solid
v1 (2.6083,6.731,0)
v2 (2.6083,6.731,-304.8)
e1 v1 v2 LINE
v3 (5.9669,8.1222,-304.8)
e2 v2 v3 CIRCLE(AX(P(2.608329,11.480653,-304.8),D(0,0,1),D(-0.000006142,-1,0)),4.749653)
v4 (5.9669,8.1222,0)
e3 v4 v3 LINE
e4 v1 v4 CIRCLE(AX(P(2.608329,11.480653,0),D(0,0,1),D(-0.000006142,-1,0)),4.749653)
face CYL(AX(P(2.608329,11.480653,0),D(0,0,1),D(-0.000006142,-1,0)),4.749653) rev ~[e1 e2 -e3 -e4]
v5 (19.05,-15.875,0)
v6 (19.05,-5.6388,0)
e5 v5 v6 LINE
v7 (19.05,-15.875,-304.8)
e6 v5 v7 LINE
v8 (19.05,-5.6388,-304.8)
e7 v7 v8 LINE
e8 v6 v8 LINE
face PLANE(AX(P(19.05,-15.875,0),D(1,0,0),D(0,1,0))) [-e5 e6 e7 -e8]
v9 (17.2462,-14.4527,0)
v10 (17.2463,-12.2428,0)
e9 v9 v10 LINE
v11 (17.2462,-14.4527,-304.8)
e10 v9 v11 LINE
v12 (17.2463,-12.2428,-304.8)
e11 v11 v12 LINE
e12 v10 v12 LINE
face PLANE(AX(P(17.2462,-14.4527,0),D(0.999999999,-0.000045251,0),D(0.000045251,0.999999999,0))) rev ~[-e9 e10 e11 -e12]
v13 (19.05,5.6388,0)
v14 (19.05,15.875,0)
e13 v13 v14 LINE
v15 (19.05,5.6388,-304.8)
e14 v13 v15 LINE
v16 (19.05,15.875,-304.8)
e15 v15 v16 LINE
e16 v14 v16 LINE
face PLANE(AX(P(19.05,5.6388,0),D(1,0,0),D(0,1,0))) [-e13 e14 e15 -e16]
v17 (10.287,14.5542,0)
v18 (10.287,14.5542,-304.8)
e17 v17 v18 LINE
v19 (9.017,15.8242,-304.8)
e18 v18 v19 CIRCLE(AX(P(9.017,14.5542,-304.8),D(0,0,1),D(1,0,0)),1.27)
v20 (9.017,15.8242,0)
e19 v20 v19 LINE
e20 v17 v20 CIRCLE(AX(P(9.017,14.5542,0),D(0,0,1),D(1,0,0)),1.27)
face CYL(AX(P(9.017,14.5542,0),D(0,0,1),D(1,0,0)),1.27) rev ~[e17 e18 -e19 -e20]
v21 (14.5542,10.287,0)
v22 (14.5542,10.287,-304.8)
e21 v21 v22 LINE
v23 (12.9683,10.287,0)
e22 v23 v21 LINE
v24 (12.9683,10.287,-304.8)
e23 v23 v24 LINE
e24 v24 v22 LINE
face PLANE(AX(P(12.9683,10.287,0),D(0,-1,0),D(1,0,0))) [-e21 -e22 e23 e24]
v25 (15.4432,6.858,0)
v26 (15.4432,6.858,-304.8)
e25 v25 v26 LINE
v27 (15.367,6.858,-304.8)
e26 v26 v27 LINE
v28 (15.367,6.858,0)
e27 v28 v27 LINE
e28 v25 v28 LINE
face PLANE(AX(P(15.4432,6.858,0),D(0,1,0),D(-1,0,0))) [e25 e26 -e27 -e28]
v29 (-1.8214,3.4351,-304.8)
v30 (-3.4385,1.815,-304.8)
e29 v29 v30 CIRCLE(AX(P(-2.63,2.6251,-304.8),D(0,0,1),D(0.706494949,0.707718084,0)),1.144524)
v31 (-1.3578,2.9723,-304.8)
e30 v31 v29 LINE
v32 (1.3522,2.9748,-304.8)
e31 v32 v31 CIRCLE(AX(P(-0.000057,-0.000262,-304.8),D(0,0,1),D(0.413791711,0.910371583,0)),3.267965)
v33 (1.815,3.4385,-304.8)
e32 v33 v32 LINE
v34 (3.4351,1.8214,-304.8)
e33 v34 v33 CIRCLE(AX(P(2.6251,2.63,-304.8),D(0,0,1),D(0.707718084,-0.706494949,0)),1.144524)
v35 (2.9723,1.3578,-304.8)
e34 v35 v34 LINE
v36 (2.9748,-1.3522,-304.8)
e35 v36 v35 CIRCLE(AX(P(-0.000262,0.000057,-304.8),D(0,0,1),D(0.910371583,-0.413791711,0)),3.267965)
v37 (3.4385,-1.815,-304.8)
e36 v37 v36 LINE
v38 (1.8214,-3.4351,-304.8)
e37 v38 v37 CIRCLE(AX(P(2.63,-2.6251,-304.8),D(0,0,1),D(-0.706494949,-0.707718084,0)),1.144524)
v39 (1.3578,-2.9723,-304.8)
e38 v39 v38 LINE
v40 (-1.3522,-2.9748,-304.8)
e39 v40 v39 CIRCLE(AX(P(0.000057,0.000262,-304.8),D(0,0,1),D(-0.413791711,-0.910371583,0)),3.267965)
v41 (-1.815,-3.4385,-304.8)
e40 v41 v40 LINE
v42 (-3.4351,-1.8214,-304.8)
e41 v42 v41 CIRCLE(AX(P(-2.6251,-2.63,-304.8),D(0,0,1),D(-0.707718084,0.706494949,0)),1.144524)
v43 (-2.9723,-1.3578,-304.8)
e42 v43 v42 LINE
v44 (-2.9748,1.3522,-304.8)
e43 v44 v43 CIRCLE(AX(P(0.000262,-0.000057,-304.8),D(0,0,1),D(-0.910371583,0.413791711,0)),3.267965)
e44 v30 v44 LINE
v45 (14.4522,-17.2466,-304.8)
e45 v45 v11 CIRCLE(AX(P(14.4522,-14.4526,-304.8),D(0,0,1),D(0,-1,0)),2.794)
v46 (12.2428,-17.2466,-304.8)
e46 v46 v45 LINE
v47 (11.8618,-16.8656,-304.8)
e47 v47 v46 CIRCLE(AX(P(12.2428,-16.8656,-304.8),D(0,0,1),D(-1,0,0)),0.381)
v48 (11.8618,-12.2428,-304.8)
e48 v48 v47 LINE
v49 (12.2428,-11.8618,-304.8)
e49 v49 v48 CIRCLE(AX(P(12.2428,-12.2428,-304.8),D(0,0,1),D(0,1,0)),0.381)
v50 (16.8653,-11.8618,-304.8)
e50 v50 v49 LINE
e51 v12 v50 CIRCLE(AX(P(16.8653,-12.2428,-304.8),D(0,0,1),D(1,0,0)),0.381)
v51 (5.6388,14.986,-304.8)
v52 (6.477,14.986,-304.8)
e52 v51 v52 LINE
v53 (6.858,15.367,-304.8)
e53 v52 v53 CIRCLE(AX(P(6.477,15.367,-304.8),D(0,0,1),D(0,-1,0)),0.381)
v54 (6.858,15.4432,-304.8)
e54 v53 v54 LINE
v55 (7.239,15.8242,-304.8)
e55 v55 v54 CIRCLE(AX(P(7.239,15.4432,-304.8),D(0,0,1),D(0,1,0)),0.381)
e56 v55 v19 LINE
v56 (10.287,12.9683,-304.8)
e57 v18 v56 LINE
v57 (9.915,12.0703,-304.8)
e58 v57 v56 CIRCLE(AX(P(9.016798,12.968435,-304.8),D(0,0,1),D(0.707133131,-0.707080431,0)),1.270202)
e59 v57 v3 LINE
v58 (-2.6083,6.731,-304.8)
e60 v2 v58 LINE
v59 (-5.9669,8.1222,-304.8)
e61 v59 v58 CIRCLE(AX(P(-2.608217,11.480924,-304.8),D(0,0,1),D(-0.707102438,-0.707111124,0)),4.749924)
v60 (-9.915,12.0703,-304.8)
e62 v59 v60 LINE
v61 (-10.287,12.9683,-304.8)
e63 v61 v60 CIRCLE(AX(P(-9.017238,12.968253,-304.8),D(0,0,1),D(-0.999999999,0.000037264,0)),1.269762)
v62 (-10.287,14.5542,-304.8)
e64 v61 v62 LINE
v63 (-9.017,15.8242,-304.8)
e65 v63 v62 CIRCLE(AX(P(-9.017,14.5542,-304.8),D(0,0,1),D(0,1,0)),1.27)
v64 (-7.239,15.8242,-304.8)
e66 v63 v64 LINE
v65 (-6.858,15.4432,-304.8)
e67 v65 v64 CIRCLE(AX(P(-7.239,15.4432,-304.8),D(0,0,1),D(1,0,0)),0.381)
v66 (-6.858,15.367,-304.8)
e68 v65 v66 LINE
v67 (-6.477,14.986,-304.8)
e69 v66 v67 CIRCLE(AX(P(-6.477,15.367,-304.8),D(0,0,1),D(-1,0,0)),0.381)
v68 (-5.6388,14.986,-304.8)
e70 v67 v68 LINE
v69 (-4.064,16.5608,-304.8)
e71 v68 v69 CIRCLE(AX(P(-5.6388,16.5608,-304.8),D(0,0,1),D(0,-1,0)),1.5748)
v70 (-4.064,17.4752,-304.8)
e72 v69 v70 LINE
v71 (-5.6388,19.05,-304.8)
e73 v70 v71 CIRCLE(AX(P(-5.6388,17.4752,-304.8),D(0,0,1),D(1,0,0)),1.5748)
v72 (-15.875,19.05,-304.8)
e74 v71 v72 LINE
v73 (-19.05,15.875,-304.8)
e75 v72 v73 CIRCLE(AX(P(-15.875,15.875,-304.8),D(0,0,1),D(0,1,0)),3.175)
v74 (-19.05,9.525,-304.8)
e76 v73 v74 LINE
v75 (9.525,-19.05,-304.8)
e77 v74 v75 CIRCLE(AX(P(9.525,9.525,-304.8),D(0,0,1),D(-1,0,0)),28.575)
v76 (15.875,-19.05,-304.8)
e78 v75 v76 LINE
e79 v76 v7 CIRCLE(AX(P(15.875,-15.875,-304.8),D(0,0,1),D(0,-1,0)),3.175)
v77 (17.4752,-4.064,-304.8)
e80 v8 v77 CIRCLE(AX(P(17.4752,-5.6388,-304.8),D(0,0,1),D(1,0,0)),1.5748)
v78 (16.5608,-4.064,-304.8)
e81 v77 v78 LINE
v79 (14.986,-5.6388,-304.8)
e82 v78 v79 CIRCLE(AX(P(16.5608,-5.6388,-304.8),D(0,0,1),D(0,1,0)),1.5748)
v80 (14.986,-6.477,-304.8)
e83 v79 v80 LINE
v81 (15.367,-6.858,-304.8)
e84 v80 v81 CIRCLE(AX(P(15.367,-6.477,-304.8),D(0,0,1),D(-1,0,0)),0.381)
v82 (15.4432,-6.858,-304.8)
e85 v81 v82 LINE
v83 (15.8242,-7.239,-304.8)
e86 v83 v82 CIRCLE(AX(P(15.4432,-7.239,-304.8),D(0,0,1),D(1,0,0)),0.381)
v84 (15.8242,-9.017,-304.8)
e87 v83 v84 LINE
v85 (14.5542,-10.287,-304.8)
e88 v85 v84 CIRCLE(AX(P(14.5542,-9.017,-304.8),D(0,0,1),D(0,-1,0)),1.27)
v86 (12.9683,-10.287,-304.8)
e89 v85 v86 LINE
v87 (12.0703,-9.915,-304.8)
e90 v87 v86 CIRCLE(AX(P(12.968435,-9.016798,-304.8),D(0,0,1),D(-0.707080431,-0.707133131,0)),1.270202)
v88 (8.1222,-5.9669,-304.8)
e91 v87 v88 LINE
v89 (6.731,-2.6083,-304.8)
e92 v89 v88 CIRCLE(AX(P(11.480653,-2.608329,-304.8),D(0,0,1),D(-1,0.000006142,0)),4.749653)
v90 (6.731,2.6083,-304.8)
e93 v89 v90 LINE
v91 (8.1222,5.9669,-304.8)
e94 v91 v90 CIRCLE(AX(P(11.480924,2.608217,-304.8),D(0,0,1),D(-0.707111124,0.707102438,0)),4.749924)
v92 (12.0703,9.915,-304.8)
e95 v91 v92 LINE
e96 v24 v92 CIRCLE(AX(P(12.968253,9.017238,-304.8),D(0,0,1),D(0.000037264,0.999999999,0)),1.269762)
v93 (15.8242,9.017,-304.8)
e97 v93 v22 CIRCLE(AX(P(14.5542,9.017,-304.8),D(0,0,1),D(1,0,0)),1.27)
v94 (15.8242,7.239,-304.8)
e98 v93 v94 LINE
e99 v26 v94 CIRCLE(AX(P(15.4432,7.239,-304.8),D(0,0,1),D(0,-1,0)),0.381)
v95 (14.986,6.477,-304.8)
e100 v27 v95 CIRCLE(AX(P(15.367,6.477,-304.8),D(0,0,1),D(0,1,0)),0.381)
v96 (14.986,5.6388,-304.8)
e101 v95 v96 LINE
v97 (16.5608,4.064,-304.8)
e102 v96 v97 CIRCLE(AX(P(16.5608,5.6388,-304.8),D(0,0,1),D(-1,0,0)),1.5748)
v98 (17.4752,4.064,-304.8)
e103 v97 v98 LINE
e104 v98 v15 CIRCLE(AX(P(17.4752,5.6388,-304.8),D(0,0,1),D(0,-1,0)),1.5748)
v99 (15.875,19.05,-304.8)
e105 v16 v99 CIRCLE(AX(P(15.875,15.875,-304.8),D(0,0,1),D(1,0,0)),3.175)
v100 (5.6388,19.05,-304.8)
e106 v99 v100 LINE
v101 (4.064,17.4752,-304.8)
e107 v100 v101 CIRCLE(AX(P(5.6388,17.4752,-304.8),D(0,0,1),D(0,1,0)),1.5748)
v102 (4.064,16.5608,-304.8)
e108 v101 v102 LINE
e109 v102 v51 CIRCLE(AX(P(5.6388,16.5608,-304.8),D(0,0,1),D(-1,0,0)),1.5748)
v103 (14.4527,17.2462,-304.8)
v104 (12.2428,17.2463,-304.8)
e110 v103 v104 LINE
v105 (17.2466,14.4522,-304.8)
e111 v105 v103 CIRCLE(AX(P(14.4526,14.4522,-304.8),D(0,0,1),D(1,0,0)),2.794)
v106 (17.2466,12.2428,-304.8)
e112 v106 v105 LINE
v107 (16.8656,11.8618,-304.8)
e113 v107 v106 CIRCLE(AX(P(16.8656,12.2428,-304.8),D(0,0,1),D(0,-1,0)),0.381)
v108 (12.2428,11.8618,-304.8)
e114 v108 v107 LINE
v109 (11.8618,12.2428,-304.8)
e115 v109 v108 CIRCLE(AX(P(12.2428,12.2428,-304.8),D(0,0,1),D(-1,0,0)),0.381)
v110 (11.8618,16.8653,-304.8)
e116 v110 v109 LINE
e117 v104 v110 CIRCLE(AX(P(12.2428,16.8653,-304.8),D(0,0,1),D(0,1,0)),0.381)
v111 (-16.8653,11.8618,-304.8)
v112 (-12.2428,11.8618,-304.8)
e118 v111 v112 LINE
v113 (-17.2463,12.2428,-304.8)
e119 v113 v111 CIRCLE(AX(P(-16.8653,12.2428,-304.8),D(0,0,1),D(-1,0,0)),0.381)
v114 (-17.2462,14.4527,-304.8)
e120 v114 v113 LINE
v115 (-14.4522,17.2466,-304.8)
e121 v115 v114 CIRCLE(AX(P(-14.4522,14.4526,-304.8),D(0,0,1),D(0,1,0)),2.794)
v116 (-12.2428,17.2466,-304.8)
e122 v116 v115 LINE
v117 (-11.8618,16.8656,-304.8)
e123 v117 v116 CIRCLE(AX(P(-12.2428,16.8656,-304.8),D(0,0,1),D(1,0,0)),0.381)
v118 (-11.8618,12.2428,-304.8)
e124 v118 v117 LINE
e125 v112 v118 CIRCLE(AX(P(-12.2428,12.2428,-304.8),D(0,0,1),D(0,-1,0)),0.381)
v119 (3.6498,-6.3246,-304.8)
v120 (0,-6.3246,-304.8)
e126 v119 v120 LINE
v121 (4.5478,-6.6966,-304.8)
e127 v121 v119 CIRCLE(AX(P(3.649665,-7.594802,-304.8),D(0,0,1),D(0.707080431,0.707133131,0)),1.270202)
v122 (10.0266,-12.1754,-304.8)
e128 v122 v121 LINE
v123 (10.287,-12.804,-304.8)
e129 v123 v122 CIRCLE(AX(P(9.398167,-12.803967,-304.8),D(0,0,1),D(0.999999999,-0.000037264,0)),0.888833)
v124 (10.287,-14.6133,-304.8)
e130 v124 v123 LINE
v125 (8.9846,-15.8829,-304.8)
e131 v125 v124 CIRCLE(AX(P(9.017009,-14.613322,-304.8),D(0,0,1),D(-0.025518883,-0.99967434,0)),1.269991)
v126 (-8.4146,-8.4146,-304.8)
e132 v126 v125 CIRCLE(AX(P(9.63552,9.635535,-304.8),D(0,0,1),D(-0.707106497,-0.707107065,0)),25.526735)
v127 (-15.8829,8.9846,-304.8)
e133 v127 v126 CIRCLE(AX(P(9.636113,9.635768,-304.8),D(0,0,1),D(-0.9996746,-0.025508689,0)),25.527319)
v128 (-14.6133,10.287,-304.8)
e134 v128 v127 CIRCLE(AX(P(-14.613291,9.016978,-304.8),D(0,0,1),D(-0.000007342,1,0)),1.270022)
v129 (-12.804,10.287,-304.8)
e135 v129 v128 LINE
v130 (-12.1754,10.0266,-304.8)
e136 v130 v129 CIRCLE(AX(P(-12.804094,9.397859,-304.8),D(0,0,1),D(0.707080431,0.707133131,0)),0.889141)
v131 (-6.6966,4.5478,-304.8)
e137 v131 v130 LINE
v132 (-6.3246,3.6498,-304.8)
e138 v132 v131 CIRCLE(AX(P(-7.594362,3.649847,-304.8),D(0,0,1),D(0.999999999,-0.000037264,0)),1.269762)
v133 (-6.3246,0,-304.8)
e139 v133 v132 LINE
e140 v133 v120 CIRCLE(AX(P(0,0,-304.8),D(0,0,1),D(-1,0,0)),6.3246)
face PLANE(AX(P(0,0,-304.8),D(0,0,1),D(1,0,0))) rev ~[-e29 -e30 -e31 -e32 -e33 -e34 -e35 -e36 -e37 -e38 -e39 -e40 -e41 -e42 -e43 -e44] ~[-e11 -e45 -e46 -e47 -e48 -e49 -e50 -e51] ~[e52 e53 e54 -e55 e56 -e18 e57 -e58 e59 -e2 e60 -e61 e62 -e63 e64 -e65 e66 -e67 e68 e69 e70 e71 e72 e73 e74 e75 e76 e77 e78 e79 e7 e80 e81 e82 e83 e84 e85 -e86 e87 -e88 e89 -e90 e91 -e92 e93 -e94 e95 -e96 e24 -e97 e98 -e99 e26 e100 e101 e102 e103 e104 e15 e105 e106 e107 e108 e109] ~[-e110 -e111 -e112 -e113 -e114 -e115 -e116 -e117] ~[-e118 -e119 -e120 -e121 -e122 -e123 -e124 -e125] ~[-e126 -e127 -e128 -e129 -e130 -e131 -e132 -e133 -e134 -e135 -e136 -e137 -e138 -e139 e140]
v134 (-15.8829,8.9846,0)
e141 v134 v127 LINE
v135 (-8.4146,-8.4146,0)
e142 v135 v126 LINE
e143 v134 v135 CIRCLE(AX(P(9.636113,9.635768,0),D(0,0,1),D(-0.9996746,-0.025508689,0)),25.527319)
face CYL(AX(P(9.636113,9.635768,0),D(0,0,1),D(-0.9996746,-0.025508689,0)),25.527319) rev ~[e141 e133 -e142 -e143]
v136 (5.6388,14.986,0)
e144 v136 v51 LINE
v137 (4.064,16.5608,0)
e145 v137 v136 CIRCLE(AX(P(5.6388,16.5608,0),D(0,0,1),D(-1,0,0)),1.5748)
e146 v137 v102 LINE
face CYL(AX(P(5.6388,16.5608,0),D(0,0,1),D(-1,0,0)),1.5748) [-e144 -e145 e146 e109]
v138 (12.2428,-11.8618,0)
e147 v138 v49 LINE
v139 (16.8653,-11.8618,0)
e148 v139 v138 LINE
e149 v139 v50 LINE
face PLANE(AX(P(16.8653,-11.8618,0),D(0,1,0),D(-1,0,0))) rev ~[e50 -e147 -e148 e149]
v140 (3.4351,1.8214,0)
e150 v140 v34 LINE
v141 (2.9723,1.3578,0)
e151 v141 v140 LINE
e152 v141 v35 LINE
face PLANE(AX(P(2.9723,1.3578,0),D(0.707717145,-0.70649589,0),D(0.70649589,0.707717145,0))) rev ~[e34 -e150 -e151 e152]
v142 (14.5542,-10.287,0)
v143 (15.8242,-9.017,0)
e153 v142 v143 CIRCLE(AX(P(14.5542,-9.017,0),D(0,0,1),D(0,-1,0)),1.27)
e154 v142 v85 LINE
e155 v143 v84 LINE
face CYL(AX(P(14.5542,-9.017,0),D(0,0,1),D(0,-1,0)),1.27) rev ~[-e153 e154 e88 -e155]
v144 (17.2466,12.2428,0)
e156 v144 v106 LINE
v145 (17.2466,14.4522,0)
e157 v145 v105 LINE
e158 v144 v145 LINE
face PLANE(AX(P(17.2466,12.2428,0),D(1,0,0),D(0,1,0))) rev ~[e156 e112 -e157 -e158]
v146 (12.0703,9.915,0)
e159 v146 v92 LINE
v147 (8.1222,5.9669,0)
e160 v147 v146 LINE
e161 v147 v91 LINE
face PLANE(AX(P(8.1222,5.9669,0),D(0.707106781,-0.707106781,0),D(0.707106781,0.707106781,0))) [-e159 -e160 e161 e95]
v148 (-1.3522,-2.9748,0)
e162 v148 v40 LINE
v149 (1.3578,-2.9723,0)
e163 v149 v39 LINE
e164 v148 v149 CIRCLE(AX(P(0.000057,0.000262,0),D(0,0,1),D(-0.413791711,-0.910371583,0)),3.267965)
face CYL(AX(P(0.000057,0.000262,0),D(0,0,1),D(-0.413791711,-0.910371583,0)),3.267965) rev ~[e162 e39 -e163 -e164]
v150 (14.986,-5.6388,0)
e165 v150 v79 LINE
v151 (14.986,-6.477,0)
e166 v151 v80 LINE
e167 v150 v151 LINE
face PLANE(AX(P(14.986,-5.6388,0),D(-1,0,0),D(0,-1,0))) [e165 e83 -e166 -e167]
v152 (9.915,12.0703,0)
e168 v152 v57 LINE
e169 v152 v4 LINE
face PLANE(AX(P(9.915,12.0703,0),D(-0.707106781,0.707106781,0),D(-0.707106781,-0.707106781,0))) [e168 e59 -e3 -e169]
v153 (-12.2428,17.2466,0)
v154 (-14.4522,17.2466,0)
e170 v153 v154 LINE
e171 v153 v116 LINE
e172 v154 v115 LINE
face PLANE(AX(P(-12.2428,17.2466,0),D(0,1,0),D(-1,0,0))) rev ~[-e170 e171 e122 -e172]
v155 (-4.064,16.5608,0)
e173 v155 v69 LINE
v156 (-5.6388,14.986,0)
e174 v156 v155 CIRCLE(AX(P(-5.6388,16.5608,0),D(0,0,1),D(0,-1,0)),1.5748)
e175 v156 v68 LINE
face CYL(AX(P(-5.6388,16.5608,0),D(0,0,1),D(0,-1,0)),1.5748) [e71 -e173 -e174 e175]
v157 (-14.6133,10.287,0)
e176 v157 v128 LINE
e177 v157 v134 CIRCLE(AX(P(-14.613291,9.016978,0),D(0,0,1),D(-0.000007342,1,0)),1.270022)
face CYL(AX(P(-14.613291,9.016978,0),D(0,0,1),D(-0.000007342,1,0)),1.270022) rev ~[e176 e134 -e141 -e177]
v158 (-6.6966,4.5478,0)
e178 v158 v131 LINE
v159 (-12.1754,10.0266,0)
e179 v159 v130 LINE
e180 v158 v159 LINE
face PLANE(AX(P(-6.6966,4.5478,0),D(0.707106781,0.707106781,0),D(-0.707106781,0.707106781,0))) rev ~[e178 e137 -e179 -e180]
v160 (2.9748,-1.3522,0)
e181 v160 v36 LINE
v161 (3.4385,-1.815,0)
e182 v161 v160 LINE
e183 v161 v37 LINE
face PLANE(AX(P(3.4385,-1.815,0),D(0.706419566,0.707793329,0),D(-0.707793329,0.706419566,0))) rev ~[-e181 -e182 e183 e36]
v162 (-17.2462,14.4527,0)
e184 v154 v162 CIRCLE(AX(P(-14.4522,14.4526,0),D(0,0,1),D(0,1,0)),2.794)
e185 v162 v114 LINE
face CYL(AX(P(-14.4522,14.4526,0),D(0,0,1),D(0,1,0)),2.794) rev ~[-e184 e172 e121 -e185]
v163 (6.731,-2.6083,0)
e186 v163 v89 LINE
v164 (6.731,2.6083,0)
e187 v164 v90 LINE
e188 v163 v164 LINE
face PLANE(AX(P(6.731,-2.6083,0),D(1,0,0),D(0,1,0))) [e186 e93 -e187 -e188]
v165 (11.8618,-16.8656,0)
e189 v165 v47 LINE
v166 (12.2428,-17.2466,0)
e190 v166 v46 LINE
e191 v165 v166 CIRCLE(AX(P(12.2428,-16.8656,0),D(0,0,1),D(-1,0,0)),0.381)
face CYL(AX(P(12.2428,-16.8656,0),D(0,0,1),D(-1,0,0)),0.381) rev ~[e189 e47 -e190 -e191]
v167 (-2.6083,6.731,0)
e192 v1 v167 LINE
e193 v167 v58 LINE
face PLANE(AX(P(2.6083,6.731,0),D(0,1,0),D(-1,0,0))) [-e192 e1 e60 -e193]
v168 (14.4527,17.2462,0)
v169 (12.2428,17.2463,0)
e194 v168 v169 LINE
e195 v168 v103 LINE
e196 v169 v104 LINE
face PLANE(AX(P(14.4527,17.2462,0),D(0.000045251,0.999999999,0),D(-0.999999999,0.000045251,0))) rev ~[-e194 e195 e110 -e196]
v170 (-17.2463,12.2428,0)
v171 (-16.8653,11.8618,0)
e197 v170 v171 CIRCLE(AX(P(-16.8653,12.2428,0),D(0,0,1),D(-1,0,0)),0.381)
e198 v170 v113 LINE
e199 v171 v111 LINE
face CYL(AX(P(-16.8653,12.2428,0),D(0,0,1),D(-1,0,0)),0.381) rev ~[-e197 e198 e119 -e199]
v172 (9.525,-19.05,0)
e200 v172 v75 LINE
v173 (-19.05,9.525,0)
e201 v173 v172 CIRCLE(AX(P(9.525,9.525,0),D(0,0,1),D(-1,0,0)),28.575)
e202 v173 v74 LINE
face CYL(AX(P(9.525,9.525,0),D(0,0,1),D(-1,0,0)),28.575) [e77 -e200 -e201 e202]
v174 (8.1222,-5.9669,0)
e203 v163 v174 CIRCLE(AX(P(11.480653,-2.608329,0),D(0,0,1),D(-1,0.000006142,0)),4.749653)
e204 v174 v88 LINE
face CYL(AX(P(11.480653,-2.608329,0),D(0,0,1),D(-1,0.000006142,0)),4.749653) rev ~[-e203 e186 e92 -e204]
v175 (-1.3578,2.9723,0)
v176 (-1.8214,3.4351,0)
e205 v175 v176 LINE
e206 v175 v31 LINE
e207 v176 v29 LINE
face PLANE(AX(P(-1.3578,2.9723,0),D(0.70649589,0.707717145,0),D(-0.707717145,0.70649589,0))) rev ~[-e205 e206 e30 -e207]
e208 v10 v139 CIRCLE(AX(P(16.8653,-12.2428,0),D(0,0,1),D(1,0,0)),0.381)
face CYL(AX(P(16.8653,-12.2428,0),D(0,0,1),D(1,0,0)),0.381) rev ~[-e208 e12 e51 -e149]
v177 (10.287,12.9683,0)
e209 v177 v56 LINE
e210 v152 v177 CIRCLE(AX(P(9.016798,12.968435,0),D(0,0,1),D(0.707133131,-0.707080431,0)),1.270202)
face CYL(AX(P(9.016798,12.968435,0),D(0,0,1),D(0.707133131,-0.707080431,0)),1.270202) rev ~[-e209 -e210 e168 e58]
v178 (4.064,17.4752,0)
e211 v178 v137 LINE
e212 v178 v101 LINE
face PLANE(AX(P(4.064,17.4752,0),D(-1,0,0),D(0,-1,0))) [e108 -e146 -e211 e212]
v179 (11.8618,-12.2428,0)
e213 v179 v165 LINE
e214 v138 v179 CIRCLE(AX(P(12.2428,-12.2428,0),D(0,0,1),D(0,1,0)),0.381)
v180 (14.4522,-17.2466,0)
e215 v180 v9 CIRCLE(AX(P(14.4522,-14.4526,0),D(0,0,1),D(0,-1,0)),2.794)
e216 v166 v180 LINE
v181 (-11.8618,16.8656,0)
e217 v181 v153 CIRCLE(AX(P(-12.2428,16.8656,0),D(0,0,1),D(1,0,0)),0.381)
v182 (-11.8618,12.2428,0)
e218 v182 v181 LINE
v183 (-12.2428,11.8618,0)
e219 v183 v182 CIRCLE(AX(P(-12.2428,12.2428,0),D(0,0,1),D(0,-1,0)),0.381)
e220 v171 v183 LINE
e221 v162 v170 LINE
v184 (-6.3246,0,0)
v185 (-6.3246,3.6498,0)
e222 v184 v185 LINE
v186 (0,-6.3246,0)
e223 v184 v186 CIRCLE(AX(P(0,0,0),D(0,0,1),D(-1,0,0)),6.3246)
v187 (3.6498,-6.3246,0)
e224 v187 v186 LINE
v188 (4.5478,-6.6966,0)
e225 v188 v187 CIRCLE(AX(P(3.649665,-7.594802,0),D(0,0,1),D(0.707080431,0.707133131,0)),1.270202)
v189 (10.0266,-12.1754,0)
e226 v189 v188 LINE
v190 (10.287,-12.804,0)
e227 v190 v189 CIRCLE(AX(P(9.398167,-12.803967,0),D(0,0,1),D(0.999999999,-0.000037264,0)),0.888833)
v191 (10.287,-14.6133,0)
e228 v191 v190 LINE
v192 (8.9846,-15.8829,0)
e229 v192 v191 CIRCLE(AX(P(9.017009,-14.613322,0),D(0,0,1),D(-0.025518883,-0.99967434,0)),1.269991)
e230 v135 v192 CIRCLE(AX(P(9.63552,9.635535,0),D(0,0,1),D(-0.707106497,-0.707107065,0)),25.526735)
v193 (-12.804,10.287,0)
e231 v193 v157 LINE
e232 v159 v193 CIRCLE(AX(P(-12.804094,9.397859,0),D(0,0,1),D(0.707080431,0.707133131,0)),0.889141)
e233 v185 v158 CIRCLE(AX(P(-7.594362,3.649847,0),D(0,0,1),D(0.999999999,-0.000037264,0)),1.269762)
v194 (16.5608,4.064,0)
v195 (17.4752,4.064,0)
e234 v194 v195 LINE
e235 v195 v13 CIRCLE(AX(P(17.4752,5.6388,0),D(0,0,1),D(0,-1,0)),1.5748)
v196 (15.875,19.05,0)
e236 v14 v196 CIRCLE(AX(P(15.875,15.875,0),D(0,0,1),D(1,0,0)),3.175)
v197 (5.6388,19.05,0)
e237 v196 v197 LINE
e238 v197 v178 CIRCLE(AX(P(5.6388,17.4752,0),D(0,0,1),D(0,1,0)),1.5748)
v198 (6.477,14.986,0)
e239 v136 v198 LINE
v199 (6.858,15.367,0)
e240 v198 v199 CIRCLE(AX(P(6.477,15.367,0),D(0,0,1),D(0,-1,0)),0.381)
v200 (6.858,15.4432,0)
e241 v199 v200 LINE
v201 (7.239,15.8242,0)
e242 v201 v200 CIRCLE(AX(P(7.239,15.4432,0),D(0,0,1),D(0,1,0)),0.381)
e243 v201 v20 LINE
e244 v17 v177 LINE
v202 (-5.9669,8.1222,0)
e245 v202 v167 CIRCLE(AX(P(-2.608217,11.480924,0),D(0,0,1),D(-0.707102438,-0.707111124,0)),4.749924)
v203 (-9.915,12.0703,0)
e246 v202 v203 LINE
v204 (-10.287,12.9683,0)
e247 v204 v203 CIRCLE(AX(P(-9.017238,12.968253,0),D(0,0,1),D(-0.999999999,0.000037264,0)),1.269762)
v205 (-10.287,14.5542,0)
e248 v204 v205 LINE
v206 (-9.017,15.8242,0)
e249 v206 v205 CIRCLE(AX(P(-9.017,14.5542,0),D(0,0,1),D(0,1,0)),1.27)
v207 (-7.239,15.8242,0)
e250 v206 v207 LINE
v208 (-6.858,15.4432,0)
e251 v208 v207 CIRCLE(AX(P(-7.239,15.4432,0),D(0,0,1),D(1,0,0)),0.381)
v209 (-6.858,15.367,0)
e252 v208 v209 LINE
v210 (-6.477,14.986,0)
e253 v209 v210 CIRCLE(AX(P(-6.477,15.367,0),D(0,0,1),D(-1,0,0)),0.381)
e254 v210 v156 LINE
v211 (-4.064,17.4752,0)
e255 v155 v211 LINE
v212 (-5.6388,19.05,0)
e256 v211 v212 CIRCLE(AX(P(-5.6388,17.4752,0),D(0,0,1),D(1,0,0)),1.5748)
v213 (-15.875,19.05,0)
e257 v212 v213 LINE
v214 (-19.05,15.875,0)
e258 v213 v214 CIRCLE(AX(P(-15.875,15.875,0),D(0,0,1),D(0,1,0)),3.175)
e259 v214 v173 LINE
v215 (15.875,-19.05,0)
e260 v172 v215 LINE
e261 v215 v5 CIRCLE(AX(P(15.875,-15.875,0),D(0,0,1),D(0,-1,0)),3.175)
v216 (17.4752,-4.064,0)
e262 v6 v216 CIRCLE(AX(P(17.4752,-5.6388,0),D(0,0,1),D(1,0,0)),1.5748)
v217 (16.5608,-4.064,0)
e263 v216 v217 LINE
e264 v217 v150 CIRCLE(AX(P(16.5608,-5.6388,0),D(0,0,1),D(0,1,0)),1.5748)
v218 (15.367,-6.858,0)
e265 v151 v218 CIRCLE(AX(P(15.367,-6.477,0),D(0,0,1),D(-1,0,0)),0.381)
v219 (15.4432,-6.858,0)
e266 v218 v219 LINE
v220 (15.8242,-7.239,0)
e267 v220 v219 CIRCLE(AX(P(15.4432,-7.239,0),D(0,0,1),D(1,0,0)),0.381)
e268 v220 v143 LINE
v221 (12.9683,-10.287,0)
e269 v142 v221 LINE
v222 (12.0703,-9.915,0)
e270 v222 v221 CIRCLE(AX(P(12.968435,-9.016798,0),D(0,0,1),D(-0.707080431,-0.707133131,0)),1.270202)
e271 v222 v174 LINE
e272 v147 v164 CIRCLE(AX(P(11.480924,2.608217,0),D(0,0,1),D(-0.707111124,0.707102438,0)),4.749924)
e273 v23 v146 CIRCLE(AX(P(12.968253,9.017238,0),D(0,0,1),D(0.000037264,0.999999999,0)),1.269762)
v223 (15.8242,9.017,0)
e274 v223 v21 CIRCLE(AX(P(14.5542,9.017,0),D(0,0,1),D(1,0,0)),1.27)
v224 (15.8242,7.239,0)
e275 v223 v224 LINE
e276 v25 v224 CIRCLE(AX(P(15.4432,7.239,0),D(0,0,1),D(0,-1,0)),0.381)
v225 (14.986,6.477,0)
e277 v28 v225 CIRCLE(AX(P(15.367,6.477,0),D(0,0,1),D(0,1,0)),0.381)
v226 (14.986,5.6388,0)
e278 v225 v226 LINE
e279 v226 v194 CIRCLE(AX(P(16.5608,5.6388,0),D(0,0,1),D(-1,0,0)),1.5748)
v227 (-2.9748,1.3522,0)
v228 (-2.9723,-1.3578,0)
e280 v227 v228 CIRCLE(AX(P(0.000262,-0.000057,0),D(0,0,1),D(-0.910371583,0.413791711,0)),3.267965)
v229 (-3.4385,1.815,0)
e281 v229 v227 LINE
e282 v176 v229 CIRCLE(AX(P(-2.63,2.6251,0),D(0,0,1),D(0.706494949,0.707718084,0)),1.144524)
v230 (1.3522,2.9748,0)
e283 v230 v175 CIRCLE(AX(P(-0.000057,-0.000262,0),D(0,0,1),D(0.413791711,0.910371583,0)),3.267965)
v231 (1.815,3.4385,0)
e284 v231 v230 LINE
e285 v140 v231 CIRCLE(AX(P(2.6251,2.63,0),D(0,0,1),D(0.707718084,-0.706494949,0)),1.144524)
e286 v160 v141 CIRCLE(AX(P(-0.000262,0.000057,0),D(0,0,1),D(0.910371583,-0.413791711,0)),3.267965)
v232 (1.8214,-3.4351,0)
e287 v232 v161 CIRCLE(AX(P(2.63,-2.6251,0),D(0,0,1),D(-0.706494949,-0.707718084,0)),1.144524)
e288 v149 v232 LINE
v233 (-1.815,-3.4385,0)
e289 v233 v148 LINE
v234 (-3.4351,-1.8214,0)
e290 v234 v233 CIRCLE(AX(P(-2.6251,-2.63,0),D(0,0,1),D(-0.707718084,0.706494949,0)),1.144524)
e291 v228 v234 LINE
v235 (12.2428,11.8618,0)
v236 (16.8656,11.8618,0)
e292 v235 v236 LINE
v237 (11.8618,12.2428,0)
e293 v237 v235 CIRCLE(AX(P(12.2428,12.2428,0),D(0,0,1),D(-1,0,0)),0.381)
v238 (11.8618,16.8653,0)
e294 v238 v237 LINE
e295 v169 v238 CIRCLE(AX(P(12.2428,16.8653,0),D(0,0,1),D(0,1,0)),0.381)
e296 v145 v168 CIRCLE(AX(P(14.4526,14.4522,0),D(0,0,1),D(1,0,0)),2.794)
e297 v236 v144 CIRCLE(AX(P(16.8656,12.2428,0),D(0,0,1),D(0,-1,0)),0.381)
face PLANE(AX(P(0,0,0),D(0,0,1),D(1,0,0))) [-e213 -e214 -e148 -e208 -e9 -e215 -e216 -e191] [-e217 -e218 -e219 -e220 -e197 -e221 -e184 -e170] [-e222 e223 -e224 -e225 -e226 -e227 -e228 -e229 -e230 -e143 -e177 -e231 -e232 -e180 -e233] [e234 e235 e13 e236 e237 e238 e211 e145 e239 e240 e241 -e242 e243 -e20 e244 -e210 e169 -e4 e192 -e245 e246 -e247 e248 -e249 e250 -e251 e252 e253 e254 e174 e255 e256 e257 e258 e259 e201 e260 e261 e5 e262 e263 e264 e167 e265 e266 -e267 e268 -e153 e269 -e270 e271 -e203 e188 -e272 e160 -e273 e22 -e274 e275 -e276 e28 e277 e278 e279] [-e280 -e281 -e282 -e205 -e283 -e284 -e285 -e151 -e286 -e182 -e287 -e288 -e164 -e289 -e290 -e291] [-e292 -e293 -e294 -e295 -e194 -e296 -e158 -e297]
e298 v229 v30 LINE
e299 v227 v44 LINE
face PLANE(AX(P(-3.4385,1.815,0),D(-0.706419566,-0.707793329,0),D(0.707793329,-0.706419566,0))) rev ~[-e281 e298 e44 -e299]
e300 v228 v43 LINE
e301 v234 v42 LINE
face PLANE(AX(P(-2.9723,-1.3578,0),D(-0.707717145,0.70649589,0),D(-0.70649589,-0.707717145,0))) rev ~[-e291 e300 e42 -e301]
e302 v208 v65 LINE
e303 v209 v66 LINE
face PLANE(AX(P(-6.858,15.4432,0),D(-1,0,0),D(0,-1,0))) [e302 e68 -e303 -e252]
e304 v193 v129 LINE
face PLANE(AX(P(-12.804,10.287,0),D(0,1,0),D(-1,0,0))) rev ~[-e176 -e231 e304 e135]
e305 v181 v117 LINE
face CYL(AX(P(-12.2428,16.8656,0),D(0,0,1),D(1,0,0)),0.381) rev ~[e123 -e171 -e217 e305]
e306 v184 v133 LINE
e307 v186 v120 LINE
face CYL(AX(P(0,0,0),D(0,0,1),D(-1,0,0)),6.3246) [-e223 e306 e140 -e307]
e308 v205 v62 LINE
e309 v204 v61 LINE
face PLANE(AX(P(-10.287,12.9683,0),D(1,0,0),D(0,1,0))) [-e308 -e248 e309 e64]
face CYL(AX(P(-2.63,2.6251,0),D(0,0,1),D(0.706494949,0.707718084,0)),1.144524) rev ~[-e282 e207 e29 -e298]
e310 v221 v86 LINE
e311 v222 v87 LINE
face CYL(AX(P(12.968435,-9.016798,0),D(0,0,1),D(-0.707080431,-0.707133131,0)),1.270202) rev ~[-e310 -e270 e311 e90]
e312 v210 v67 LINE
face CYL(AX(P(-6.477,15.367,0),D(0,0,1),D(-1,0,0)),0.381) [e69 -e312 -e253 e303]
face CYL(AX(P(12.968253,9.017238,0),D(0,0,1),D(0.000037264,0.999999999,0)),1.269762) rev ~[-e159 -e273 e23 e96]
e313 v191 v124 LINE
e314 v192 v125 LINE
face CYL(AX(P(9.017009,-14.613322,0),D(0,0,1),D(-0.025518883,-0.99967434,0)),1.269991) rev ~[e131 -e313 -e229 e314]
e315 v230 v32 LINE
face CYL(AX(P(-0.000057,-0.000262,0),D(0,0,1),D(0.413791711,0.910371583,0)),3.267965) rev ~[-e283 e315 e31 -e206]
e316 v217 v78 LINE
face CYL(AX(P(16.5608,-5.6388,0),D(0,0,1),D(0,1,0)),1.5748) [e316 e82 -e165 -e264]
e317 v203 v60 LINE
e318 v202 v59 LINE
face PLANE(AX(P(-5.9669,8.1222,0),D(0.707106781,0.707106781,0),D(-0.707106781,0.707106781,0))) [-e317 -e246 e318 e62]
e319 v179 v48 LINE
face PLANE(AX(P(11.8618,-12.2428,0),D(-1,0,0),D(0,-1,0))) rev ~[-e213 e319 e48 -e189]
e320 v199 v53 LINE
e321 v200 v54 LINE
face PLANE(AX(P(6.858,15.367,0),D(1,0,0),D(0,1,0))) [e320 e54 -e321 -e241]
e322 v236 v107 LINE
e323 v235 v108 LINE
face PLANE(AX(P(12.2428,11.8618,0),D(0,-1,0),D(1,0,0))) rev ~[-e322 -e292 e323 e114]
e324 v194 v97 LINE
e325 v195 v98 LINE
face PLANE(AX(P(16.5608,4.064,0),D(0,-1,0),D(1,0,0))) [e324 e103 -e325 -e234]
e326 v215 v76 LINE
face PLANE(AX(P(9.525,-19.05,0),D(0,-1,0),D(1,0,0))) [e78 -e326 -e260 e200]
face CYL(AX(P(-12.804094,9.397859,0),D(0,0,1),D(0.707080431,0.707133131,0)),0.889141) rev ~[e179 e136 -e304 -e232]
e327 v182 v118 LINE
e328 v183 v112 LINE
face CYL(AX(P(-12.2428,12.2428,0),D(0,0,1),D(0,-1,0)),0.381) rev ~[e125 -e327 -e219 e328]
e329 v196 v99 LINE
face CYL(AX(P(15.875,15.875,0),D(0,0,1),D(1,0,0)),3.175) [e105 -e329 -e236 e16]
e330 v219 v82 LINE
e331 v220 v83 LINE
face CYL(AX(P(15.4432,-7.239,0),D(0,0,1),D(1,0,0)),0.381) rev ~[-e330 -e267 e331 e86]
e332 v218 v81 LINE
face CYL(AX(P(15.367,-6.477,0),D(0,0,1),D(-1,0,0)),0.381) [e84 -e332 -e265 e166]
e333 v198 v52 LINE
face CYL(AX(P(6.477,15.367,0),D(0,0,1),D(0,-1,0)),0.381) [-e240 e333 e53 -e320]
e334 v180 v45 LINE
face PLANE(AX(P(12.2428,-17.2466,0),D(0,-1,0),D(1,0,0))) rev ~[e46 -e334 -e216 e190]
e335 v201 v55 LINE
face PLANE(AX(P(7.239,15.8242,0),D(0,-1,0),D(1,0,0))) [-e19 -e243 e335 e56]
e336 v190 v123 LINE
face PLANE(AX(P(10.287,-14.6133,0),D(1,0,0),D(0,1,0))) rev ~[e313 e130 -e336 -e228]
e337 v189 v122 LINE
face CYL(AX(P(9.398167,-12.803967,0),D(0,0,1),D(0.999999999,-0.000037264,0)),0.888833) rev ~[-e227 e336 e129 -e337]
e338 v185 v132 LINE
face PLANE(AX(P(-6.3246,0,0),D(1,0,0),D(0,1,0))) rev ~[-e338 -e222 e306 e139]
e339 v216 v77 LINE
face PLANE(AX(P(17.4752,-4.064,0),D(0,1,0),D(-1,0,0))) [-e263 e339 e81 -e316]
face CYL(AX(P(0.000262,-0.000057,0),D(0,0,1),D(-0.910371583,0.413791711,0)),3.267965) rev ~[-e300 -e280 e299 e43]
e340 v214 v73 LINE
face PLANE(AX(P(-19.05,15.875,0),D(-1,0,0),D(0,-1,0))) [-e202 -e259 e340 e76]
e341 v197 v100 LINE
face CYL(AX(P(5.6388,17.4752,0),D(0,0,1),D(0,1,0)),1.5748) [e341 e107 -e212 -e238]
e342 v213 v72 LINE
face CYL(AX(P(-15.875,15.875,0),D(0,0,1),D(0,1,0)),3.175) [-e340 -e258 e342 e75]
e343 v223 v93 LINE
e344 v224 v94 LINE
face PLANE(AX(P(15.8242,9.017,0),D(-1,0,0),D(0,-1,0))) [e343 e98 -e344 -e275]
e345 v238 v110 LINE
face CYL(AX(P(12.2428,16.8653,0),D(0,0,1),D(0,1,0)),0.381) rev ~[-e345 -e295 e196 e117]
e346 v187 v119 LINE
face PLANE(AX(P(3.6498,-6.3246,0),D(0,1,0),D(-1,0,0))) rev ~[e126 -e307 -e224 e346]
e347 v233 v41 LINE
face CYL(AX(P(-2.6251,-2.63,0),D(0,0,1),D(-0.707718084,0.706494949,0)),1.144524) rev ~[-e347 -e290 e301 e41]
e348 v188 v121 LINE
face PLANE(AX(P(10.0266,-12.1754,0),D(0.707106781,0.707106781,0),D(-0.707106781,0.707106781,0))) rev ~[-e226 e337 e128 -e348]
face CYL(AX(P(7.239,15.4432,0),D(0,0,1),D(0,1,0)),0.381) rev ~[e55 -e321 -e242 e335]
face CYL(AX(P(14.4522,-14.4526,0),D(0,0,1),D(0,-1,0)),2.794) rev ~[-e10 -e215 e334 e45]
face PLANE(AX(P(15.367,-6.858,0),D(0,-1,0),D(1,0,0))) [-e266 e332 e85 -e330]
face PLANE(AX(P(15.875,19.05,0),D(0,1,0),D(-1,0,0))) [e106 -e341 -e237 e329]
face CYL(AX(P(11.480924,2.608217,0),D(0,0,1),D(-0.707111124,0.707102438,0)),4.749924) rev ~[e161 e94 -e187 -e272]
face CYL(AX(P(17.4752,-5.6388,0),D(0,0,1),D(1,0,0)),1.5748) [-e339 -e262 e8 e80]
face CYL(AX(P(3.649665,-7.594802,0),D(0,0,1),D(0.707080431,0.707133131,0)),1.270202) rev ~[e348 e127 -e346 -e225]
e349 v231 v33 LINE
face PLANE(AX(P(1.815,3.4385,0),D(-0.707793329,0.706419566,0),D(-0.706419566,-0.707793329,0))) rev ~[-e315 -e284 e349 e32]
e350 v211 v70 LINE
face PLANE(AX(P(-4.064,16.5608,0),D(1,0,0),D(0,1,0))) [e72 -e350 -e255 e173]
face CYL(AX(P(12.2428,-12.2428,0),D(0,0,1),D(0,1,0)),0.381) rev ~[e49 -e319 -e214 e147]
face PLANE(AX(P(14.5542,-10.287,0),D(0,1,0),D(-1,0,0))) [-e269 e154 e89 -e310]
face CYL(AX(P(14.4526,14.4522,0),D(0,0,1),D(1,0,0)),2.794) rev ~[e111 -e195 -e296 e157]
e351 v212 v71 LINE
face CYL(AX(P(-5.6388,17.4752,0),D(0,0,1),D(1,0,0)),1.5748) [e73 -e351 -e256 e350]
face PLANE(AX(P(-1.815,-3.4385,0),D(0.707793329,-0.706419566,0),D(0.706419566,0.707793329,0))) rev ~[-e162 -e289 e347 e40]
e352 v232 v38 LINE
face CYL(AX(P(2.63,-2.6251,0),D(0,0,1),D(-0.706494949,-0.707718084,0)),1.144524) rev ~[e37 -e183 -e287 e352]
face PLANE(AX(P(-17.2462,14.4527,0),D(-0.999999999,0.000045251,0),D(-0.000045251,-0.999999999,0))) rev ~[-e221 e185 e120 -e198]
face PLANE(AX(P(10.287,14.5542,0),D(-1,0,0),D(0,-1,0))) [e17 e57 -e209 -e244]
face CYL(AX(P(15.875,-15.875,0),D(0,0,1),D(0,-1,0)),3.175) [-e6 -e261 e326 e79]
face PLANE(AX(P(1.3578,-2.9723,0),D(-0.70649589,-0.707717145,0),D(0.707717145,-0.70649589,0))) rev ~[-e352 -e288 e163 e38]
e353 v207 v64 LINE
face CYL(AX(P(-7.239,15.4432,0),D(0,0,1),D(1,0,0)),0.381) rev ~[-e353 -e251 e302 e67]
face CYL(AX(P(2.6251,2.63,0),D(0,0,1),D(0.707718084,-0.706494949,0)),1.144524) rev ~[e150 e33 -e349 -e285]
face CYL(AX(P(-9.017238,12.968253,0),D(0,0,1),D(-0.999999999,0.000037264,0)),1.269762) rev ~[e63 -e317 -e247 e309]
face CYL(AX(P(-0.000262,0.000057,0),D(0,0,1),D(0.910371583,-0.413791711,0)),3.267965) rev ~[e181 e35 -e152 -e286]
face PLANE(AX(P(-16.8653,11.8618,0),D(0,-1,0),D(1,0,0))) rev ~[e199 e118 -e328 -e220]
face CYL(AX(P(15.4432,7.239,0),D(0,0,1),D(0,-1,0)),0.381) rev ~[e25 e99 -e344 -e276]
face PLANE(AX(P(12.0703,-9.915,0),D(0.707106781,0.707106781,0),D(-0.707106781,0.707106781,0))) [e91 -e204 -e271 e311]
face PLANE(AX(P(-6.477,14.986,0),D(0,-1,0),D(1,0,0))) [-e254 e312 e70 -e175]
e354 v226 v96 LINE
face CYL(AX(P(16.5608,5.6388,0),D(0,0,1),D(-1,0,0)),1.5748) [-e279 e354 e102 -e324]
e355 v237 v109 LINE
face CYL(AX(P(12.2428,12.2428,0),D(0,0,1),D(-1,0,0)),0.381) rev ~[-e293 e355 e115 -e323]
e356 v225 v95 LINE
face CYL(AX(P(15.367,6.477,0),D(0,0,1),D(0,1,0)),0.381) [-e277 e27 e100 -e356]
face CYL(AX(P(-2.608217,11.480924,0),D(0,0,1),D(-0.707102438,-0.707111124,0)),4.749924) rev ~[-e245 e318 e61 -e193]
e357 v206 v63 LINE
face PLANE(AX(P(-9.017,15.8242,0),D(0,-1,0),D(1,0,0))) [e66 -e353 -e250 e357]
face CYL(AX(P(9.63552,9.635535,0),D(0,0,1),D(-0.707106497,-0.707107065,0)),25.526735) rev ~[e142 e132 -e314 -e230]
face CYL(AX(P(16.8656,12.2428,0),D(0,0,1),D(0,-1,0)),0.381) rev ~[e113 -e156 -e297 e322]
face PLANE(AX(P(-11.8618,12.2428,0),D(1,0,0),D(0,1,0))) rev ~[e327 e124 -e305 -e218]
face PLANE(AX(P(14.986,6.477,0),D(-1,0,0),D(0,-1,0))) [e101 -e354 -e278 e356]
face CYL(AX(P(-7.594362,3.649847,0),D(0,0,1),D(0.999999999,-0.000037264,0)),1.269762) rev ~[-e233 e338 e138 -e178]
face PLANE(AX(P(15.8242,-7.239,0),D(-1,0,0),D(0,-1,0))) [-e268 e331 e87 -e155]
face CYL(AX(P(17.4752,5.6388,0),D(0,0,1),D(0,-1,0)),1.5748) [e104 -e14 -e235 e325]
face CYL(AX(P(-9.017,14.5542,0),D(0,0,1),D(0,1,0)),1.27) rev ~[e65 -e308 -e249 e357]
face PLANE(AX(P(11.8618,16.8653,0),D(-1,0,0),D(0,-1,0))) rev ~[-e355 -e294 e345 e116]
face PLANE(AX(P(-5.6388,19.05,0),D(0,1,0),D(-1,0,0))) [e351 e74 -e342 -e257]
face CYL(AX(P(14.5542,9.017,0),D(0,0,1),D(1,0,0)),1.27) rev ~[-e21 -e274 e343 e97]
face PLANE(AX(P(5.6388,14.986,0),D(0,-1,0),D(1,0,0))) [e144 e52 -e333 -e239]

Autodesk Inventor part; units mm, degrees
ref_plane "YZ Plane" through (0, 0, 0) normal (1, 0, 0) x (0, 1, 0)
ref_plane "XZ Plane" through (0, 0, 0) normal (0, 1, 0) x (-1, 0, 0)
ref_plane "XY Plane" through (0, 0, 0) normal (0, 0, 1) x (1, 0, 0)
sketch "Sketch1" plane through (0, 0, 0) normal (0, 0, 1) x (1, 0, 0)
  arc A0 (1.8214, -3.4351) -> (3.4385, -1.815) centre (2.63, -2.625) ccw
  line L0 (1.3578, -2.9723) -> (1.8214, -3.4351)
  arc A1 (-1.3522, -2.9748) -> (1.3578, -2.9723) centre (0, 0) ccw
  line L1 (-1.815, -3.4385) -> (-1.3522, -2.9748)
  arc A2 (-3.4351, -1.8214) -> (-1.815, -3.4385) centre (-2.625, -2.63) ccw
  line L2 (-2.9723, -1.3578) -> (-3.4351, -1.8214)
  arc A3 (-2.9748, 1.3522) -> (-2.9723, -1.3578) centre (0, 0) ccw
  line L3 (-3.4385, 1.815) -> (-2.9748, 1.3522)
  arc A4 (-1.8214, 3.4351) -> (-3.4385, 1.815) centre (-2.63, 2.625) ccw
  line L4 (-1.3578, 2.9723) -> (-1.8214, 3.4351)
  arc A5 (1.3522, 2.9748) -> (-1.3578, 2.9723) centre (0, 0) ccw
  line L5 (1.815, 3.4385) -> (1.3522, 2.9748)
  arc A6 (3.4351, 1.8214) -> (1.815, 3.4385) centre (2.625, 2.63) ccw
  line L6 (2.9723, 1.3578) -> (3.4351, 1.8214)
  arc A7 (2.9748, -1.3522) -> (2.9723, 1.3578) centre (0, 0) ccw
  line L7 (3.4385, -1.815) -> (2.9748, -1.3522)
  arc A8 (-15.8829, 8.9846) -> (-8.4146, -8.4146) centre (9.6358, 9.6357) ccw
  arc A9 (-14.6133, 10.287) -> (-15.8829, 8.9846) centre (-14.6133, 9.017) ccw
  line L8 (-12.804, 10.287) -> (-14.6133, 10.287)
  arc A10 (-12.1754, 10.0266) -> (-12.804, 10.287) centre (-12.804, 9.398) ccw
  line L9 (-6.6966, 4.5478) -> (-12.1754, 10.0266)
  arc A11 (-6.3246, 3.6498) -> (-6.6966, 4.5478) centre (-7.5946, 3.6498) ccw
  line L10 (-6.3246, 0) -> (-6.3246, 3.6498)
  arc A12 (-6.3246, 0) -> (0, -6.3246) centre (0, 0) ccw
  line L11 (3.6498, -6.3246) -> (0, -6.3246)
  arc A13 (4.5478, -6.6966) -> (3.6498, -6.3246) centre (3.6498, -7.5946) ccw
  line L12 (10.0266, -12.1754) -> (4.5478, -6.6966)
  arc A14 (10.287, -12.804) -> (10.0266, -12.1754) centre (9.398, -12.804) ccw
  line L13 (10.287, -14.6133) -> (10.287, -12.804)
  arc A15 (8.9846, -15.8829) -> (10.287, -14.6133) centre (9.017, -14.6133) ccw
  arc A16 (-8.4146, -8.4146) -> (8.9846, -15.8829) centre (9.6357, 9.6358) ccw
  arc A17 (14.4522, -17.2466) -> (17.2462, -14.4527) centre (14.4522, -14.4526) ccw
  line L14 (12.2428, -17.2466) -> (14.4522, -17.2466)
  arc A18 (11.8618, -16.8656) -> (12.2428, -17.2466) centre (12.2428, -16.8656) ccw
  line L15 (11.8618, -12.2428) -> (11.8618, -16.8656)
  arc A19 (12.2428, -11.8618) -> (11.8618, -12.2428) centre (12.2428, -12.2428) ccw
  line L16 (16.8653, -11.8618) -> (12.2428, -11.8618)
  arc A20 (17.2463, -12.2428) -> (16.8653, -11.8618) centre (16.8653, -12.2428) ccw
  line L17 (17.2462, -14.4527) -> (17.2463, -12.2428)
  arc A21 (-14.4522, 17.2466) -> (-17.2462, 14.4527) centre (-14.4522, 14.4526) ccw
  line L18 (-12.2428, 17.2466) -> (-14.4522, 17.2466)
  arc A22 (-11.8618, 16.8656) -> (-12.2428, 17.2466) centre (-12.2428, 16.8656) ccw
  line L19 (-11.8618, 12.2428) -> (-11.8618, 16.8656)
  arc A23 (-12.2428, 11.8618) -> (-11.8618, 12.2428) centre (-12.2428, 12.2428) ccw
  line L20 (-16.8653, 11.8618) -> (-12.2428, 11.8618)
  arc A24 (-17.2463, 12.2428) -> (-16.8653, 11.8618) centre (-16.8653, 12.2428) ccw
  line L21 (-17.2462, 14.4527) -> (-17.2463, 12.2428)
  arc A25 (17.2466, 14.4522) -> (14.4527, 17.2462) centre (14.4526, 14.4522) ccw
  line L22 (17.2466, 12.2428) -> (17.2466, 14.4522)
  arc A26 (16.8656, 11.8618) -> (17.2466, 12.2428) centre (16.8656, 12.2428) ccw
  line L23 (12.2428, 11.8618) -> (16.8656, 11.8618)
  arc A27 (11.8618, 12.2428) -> (12.2428, 11.8618) centre (12.2428, 12.2428) ccw
  line L24 (11.8618, 16.8653) -> (11.8618, 12.2428)
  arc A28 (12.2428, 17.2463) -> (11.8618, 16.8653) centre (12.2428, 16.8653) ccw
  line L25 (14.4527, 17.2462) -> (12.2428, 17.2463)
  arc A29 (14.5542, -10.287) -> (15.8242, -9.017) centre (14.5542, -9.017) ccw
  line L26 (14.5542, -10.287) -> (12.9683, -10.287)
  arc A30 (12.0703, -9.915) -> (12.9683, -10.287) centre (12.9683, -9.017) ccw
  line L27 (12.0703, -9.915) -> (8.1222, -5.9669)
  arc A31 (6.731, -2.6083) -> (8.1222, -5.9669) centre (11.4808, -2.6083) ccw
  line L28 (6.731, -2.6083) -> (6.731, 2.6083)
  arc A32 (8.1222, 5.9669) -> (6.731, 2.6083) centre (11.4808, 2.6083) ccw
  line L29 (8.1222, 5.9669) -> (12.0703, 9.915)
  arc A33 (12.9683, 10.287) -> (12.0703, 9.915) centre (12.9683, 9.017) ccw
  line L30 (12.9683, 10.287) -> (14.5542, 10.287)
  arc A34 (15.8242, 9.017) -> (14.5542, 10.287) centre (14.5542, 9.017) ccw
  line L31 (15.8242, 9.017) -> (15.8242, 7.239)
  arc A35 (15.4432, 6.858) -> (15.8242, 7.239) centre (15.4432, 7.239) ccw
  line L32 (15.4432, 6.858) -> (15.367, 6.858)
  arc A36 (15.367, 6.858) -> (14.986, 6.477) centre (15.367, 6.477) ccw
  line L33 (14.986, 6.477) -> (14.986, 5.6388)
  arc A37 (14.986, 5.6388) -> (16.5608, 4.064) centre (16.5608, 5.6388) ccw
  line L34 (16.5608, 4.064) -> (17.4752, 4.064)
  arc A38 (17.4752, 4.064) -> (19.05, 5.6388) centre (17.4752, 5.6388) ccw
  line L35 (19.05, 5.6388) -> (19.05, 15.875)
  arc A39 (19.05, 15.875) -> (15.875, 19.05) centre (15.875, 15.875) ccw
  line L36 (15.875, 19.05) -> (5.6388, 19.05)
  arc A40 (5.6388, 19.05) -> (4.064, 17.4752) centre (5.6388, 17.4752) ccw
  line L37 (4.064, 17.4752) -> (4.064, 16.5608)
  arc A41 (4.064, 16.5608) -> (5.6388, 14.986) centre (5.6388, 16.5608) ccw
  line L38 (5.6388, 14.986) -> (6.477, 14.986)
  arc A42 (6.477, 14.986) -> (6.858, 15.367) centre (6.477, 15.367) ccw
  line L39 (6.858, 15.367) -> (6.858, 15.4432)
  arc A43 (7.239, 15.8242) -> (6.858, 15.4432) centre (7.239, 15.4432) ccw
  line L40 (7.239, 15.8242) -> (9.017, 15.8242)
  arc A44 (10.287, 14.5542) -> (9.017, 15.8242) centre (9.017, 14.5542) ccw
  line L41 (10.287, 14.5542) -> (10.287, 12.9683)
  arc A45 (9.915, 12.0703) -> (10.287, 12.9683) centre (9.017, 12.9683) ccw
  line L42 (9.915, 12.0703) -> (5.9669, 8.1222)
  arc A46 (2.6083, 6.731) -> (5.9669, 8.1222) centre (2.6083, 11.4808) ccw
  line L43 (2.6083, 6.731) -> (-2.6083, 6.731)
  arc A47 (-5.9669, 8.1222) -> (-2.6083, 6.731) centre (-2.6083, 11.4808) ccw
  line L44 (-5.9669, 8.1222) -> (-9.915, 12.0703)
  arc A48 (-10.287, 12.9683) -> (-9.915, 12.0703) centre (-9.017, 12.9683) ccw
  line L45 (-10.287, 12.9683) -> (-10.287, 14.5542)
  arc A49 (-9.017, 15.8242) -> (-10.287, 14.5542) centre (-9.017, 14.5542) ccw
  line L46 (-9.017, 15.8242) -> (-7.239, 15.8242)
  arc A50 (-6.858, 15.4432) -> (-7.239, 15.8242) centre (-7.239, 15.4432) ccw
  line L47 (-6.858, 15.4432) -> (-6.858, 15.367)
  arc A51 (-6.858, 15.367) -> (-6.477, 14.986) centre (-6.477, 15.367) ccw
  line L48 (-6.477, 14.986) -> (-5.6388, 14.986)
  arc A52 (-5.6388, 14.986) -> (-4.064, 16.5608) centre (-5.6388, 16.5608) ccw
  line L49 (-4.064, 16.5608) -> (-4.064, 17.4752)
  arc A53 (-4.064, 17.4752) -> (-5.6388, 19.05) centre (-5.6388, 17.4752) ccw
  line L50 (-5.6388, 19.05) -> (-15.875, 19.05)
  arc A54 (-15.875, 19.05) -> (-19.05, 15.875) centre (-15.875, 15.875) ccw
  line L51 (-19.05, 15.875) -> (-19.05, 9.525)
  arc A55 (-19.05, 9.525) -> (9.525, -19.05) centre (9.525, 9.525) ccw
  line L52 (9.525, -19.05) -> (15.875, -19.05)
  arc A56 (15.875, -19.05) -> (19.05, -15.875) centre (15.875, -15.875) ccw
  line L53 (19.05, -15.875) -> (19.05, -5.6388)
  arc A57 (19.05, -5.6388) -> (17.4752, -4.064) centre (17.4752, -5.6388) ccw
  line L54 (17.4752, -4.064) -> (16.5608, -4.064)
  arc A58 (16.5608, -4.064) -> (14.986, -5.6388) centre (16.5608, -5.6388) ccw
  line L55 (14.986, -5.6388) -> (14.986, -6.477)
  arc A59 (14.986, -6.477) -> (15.367, -6.858) centre (15.367, -6.477) ccw
  line L56 (15.367, -6.858) -> (15.4432, -6.858)
  arc A60 (15.8242, -7.239) -> (15.4432, -6.858) centre (15.4432, -7.239) ccw
  line L57 (15.8242, -7.239) -> (15.8242, -9.017)
extrude "Extrusion1" add sketch "Sketch1" against normal blind 304.8
properties part number "1517-LS"
